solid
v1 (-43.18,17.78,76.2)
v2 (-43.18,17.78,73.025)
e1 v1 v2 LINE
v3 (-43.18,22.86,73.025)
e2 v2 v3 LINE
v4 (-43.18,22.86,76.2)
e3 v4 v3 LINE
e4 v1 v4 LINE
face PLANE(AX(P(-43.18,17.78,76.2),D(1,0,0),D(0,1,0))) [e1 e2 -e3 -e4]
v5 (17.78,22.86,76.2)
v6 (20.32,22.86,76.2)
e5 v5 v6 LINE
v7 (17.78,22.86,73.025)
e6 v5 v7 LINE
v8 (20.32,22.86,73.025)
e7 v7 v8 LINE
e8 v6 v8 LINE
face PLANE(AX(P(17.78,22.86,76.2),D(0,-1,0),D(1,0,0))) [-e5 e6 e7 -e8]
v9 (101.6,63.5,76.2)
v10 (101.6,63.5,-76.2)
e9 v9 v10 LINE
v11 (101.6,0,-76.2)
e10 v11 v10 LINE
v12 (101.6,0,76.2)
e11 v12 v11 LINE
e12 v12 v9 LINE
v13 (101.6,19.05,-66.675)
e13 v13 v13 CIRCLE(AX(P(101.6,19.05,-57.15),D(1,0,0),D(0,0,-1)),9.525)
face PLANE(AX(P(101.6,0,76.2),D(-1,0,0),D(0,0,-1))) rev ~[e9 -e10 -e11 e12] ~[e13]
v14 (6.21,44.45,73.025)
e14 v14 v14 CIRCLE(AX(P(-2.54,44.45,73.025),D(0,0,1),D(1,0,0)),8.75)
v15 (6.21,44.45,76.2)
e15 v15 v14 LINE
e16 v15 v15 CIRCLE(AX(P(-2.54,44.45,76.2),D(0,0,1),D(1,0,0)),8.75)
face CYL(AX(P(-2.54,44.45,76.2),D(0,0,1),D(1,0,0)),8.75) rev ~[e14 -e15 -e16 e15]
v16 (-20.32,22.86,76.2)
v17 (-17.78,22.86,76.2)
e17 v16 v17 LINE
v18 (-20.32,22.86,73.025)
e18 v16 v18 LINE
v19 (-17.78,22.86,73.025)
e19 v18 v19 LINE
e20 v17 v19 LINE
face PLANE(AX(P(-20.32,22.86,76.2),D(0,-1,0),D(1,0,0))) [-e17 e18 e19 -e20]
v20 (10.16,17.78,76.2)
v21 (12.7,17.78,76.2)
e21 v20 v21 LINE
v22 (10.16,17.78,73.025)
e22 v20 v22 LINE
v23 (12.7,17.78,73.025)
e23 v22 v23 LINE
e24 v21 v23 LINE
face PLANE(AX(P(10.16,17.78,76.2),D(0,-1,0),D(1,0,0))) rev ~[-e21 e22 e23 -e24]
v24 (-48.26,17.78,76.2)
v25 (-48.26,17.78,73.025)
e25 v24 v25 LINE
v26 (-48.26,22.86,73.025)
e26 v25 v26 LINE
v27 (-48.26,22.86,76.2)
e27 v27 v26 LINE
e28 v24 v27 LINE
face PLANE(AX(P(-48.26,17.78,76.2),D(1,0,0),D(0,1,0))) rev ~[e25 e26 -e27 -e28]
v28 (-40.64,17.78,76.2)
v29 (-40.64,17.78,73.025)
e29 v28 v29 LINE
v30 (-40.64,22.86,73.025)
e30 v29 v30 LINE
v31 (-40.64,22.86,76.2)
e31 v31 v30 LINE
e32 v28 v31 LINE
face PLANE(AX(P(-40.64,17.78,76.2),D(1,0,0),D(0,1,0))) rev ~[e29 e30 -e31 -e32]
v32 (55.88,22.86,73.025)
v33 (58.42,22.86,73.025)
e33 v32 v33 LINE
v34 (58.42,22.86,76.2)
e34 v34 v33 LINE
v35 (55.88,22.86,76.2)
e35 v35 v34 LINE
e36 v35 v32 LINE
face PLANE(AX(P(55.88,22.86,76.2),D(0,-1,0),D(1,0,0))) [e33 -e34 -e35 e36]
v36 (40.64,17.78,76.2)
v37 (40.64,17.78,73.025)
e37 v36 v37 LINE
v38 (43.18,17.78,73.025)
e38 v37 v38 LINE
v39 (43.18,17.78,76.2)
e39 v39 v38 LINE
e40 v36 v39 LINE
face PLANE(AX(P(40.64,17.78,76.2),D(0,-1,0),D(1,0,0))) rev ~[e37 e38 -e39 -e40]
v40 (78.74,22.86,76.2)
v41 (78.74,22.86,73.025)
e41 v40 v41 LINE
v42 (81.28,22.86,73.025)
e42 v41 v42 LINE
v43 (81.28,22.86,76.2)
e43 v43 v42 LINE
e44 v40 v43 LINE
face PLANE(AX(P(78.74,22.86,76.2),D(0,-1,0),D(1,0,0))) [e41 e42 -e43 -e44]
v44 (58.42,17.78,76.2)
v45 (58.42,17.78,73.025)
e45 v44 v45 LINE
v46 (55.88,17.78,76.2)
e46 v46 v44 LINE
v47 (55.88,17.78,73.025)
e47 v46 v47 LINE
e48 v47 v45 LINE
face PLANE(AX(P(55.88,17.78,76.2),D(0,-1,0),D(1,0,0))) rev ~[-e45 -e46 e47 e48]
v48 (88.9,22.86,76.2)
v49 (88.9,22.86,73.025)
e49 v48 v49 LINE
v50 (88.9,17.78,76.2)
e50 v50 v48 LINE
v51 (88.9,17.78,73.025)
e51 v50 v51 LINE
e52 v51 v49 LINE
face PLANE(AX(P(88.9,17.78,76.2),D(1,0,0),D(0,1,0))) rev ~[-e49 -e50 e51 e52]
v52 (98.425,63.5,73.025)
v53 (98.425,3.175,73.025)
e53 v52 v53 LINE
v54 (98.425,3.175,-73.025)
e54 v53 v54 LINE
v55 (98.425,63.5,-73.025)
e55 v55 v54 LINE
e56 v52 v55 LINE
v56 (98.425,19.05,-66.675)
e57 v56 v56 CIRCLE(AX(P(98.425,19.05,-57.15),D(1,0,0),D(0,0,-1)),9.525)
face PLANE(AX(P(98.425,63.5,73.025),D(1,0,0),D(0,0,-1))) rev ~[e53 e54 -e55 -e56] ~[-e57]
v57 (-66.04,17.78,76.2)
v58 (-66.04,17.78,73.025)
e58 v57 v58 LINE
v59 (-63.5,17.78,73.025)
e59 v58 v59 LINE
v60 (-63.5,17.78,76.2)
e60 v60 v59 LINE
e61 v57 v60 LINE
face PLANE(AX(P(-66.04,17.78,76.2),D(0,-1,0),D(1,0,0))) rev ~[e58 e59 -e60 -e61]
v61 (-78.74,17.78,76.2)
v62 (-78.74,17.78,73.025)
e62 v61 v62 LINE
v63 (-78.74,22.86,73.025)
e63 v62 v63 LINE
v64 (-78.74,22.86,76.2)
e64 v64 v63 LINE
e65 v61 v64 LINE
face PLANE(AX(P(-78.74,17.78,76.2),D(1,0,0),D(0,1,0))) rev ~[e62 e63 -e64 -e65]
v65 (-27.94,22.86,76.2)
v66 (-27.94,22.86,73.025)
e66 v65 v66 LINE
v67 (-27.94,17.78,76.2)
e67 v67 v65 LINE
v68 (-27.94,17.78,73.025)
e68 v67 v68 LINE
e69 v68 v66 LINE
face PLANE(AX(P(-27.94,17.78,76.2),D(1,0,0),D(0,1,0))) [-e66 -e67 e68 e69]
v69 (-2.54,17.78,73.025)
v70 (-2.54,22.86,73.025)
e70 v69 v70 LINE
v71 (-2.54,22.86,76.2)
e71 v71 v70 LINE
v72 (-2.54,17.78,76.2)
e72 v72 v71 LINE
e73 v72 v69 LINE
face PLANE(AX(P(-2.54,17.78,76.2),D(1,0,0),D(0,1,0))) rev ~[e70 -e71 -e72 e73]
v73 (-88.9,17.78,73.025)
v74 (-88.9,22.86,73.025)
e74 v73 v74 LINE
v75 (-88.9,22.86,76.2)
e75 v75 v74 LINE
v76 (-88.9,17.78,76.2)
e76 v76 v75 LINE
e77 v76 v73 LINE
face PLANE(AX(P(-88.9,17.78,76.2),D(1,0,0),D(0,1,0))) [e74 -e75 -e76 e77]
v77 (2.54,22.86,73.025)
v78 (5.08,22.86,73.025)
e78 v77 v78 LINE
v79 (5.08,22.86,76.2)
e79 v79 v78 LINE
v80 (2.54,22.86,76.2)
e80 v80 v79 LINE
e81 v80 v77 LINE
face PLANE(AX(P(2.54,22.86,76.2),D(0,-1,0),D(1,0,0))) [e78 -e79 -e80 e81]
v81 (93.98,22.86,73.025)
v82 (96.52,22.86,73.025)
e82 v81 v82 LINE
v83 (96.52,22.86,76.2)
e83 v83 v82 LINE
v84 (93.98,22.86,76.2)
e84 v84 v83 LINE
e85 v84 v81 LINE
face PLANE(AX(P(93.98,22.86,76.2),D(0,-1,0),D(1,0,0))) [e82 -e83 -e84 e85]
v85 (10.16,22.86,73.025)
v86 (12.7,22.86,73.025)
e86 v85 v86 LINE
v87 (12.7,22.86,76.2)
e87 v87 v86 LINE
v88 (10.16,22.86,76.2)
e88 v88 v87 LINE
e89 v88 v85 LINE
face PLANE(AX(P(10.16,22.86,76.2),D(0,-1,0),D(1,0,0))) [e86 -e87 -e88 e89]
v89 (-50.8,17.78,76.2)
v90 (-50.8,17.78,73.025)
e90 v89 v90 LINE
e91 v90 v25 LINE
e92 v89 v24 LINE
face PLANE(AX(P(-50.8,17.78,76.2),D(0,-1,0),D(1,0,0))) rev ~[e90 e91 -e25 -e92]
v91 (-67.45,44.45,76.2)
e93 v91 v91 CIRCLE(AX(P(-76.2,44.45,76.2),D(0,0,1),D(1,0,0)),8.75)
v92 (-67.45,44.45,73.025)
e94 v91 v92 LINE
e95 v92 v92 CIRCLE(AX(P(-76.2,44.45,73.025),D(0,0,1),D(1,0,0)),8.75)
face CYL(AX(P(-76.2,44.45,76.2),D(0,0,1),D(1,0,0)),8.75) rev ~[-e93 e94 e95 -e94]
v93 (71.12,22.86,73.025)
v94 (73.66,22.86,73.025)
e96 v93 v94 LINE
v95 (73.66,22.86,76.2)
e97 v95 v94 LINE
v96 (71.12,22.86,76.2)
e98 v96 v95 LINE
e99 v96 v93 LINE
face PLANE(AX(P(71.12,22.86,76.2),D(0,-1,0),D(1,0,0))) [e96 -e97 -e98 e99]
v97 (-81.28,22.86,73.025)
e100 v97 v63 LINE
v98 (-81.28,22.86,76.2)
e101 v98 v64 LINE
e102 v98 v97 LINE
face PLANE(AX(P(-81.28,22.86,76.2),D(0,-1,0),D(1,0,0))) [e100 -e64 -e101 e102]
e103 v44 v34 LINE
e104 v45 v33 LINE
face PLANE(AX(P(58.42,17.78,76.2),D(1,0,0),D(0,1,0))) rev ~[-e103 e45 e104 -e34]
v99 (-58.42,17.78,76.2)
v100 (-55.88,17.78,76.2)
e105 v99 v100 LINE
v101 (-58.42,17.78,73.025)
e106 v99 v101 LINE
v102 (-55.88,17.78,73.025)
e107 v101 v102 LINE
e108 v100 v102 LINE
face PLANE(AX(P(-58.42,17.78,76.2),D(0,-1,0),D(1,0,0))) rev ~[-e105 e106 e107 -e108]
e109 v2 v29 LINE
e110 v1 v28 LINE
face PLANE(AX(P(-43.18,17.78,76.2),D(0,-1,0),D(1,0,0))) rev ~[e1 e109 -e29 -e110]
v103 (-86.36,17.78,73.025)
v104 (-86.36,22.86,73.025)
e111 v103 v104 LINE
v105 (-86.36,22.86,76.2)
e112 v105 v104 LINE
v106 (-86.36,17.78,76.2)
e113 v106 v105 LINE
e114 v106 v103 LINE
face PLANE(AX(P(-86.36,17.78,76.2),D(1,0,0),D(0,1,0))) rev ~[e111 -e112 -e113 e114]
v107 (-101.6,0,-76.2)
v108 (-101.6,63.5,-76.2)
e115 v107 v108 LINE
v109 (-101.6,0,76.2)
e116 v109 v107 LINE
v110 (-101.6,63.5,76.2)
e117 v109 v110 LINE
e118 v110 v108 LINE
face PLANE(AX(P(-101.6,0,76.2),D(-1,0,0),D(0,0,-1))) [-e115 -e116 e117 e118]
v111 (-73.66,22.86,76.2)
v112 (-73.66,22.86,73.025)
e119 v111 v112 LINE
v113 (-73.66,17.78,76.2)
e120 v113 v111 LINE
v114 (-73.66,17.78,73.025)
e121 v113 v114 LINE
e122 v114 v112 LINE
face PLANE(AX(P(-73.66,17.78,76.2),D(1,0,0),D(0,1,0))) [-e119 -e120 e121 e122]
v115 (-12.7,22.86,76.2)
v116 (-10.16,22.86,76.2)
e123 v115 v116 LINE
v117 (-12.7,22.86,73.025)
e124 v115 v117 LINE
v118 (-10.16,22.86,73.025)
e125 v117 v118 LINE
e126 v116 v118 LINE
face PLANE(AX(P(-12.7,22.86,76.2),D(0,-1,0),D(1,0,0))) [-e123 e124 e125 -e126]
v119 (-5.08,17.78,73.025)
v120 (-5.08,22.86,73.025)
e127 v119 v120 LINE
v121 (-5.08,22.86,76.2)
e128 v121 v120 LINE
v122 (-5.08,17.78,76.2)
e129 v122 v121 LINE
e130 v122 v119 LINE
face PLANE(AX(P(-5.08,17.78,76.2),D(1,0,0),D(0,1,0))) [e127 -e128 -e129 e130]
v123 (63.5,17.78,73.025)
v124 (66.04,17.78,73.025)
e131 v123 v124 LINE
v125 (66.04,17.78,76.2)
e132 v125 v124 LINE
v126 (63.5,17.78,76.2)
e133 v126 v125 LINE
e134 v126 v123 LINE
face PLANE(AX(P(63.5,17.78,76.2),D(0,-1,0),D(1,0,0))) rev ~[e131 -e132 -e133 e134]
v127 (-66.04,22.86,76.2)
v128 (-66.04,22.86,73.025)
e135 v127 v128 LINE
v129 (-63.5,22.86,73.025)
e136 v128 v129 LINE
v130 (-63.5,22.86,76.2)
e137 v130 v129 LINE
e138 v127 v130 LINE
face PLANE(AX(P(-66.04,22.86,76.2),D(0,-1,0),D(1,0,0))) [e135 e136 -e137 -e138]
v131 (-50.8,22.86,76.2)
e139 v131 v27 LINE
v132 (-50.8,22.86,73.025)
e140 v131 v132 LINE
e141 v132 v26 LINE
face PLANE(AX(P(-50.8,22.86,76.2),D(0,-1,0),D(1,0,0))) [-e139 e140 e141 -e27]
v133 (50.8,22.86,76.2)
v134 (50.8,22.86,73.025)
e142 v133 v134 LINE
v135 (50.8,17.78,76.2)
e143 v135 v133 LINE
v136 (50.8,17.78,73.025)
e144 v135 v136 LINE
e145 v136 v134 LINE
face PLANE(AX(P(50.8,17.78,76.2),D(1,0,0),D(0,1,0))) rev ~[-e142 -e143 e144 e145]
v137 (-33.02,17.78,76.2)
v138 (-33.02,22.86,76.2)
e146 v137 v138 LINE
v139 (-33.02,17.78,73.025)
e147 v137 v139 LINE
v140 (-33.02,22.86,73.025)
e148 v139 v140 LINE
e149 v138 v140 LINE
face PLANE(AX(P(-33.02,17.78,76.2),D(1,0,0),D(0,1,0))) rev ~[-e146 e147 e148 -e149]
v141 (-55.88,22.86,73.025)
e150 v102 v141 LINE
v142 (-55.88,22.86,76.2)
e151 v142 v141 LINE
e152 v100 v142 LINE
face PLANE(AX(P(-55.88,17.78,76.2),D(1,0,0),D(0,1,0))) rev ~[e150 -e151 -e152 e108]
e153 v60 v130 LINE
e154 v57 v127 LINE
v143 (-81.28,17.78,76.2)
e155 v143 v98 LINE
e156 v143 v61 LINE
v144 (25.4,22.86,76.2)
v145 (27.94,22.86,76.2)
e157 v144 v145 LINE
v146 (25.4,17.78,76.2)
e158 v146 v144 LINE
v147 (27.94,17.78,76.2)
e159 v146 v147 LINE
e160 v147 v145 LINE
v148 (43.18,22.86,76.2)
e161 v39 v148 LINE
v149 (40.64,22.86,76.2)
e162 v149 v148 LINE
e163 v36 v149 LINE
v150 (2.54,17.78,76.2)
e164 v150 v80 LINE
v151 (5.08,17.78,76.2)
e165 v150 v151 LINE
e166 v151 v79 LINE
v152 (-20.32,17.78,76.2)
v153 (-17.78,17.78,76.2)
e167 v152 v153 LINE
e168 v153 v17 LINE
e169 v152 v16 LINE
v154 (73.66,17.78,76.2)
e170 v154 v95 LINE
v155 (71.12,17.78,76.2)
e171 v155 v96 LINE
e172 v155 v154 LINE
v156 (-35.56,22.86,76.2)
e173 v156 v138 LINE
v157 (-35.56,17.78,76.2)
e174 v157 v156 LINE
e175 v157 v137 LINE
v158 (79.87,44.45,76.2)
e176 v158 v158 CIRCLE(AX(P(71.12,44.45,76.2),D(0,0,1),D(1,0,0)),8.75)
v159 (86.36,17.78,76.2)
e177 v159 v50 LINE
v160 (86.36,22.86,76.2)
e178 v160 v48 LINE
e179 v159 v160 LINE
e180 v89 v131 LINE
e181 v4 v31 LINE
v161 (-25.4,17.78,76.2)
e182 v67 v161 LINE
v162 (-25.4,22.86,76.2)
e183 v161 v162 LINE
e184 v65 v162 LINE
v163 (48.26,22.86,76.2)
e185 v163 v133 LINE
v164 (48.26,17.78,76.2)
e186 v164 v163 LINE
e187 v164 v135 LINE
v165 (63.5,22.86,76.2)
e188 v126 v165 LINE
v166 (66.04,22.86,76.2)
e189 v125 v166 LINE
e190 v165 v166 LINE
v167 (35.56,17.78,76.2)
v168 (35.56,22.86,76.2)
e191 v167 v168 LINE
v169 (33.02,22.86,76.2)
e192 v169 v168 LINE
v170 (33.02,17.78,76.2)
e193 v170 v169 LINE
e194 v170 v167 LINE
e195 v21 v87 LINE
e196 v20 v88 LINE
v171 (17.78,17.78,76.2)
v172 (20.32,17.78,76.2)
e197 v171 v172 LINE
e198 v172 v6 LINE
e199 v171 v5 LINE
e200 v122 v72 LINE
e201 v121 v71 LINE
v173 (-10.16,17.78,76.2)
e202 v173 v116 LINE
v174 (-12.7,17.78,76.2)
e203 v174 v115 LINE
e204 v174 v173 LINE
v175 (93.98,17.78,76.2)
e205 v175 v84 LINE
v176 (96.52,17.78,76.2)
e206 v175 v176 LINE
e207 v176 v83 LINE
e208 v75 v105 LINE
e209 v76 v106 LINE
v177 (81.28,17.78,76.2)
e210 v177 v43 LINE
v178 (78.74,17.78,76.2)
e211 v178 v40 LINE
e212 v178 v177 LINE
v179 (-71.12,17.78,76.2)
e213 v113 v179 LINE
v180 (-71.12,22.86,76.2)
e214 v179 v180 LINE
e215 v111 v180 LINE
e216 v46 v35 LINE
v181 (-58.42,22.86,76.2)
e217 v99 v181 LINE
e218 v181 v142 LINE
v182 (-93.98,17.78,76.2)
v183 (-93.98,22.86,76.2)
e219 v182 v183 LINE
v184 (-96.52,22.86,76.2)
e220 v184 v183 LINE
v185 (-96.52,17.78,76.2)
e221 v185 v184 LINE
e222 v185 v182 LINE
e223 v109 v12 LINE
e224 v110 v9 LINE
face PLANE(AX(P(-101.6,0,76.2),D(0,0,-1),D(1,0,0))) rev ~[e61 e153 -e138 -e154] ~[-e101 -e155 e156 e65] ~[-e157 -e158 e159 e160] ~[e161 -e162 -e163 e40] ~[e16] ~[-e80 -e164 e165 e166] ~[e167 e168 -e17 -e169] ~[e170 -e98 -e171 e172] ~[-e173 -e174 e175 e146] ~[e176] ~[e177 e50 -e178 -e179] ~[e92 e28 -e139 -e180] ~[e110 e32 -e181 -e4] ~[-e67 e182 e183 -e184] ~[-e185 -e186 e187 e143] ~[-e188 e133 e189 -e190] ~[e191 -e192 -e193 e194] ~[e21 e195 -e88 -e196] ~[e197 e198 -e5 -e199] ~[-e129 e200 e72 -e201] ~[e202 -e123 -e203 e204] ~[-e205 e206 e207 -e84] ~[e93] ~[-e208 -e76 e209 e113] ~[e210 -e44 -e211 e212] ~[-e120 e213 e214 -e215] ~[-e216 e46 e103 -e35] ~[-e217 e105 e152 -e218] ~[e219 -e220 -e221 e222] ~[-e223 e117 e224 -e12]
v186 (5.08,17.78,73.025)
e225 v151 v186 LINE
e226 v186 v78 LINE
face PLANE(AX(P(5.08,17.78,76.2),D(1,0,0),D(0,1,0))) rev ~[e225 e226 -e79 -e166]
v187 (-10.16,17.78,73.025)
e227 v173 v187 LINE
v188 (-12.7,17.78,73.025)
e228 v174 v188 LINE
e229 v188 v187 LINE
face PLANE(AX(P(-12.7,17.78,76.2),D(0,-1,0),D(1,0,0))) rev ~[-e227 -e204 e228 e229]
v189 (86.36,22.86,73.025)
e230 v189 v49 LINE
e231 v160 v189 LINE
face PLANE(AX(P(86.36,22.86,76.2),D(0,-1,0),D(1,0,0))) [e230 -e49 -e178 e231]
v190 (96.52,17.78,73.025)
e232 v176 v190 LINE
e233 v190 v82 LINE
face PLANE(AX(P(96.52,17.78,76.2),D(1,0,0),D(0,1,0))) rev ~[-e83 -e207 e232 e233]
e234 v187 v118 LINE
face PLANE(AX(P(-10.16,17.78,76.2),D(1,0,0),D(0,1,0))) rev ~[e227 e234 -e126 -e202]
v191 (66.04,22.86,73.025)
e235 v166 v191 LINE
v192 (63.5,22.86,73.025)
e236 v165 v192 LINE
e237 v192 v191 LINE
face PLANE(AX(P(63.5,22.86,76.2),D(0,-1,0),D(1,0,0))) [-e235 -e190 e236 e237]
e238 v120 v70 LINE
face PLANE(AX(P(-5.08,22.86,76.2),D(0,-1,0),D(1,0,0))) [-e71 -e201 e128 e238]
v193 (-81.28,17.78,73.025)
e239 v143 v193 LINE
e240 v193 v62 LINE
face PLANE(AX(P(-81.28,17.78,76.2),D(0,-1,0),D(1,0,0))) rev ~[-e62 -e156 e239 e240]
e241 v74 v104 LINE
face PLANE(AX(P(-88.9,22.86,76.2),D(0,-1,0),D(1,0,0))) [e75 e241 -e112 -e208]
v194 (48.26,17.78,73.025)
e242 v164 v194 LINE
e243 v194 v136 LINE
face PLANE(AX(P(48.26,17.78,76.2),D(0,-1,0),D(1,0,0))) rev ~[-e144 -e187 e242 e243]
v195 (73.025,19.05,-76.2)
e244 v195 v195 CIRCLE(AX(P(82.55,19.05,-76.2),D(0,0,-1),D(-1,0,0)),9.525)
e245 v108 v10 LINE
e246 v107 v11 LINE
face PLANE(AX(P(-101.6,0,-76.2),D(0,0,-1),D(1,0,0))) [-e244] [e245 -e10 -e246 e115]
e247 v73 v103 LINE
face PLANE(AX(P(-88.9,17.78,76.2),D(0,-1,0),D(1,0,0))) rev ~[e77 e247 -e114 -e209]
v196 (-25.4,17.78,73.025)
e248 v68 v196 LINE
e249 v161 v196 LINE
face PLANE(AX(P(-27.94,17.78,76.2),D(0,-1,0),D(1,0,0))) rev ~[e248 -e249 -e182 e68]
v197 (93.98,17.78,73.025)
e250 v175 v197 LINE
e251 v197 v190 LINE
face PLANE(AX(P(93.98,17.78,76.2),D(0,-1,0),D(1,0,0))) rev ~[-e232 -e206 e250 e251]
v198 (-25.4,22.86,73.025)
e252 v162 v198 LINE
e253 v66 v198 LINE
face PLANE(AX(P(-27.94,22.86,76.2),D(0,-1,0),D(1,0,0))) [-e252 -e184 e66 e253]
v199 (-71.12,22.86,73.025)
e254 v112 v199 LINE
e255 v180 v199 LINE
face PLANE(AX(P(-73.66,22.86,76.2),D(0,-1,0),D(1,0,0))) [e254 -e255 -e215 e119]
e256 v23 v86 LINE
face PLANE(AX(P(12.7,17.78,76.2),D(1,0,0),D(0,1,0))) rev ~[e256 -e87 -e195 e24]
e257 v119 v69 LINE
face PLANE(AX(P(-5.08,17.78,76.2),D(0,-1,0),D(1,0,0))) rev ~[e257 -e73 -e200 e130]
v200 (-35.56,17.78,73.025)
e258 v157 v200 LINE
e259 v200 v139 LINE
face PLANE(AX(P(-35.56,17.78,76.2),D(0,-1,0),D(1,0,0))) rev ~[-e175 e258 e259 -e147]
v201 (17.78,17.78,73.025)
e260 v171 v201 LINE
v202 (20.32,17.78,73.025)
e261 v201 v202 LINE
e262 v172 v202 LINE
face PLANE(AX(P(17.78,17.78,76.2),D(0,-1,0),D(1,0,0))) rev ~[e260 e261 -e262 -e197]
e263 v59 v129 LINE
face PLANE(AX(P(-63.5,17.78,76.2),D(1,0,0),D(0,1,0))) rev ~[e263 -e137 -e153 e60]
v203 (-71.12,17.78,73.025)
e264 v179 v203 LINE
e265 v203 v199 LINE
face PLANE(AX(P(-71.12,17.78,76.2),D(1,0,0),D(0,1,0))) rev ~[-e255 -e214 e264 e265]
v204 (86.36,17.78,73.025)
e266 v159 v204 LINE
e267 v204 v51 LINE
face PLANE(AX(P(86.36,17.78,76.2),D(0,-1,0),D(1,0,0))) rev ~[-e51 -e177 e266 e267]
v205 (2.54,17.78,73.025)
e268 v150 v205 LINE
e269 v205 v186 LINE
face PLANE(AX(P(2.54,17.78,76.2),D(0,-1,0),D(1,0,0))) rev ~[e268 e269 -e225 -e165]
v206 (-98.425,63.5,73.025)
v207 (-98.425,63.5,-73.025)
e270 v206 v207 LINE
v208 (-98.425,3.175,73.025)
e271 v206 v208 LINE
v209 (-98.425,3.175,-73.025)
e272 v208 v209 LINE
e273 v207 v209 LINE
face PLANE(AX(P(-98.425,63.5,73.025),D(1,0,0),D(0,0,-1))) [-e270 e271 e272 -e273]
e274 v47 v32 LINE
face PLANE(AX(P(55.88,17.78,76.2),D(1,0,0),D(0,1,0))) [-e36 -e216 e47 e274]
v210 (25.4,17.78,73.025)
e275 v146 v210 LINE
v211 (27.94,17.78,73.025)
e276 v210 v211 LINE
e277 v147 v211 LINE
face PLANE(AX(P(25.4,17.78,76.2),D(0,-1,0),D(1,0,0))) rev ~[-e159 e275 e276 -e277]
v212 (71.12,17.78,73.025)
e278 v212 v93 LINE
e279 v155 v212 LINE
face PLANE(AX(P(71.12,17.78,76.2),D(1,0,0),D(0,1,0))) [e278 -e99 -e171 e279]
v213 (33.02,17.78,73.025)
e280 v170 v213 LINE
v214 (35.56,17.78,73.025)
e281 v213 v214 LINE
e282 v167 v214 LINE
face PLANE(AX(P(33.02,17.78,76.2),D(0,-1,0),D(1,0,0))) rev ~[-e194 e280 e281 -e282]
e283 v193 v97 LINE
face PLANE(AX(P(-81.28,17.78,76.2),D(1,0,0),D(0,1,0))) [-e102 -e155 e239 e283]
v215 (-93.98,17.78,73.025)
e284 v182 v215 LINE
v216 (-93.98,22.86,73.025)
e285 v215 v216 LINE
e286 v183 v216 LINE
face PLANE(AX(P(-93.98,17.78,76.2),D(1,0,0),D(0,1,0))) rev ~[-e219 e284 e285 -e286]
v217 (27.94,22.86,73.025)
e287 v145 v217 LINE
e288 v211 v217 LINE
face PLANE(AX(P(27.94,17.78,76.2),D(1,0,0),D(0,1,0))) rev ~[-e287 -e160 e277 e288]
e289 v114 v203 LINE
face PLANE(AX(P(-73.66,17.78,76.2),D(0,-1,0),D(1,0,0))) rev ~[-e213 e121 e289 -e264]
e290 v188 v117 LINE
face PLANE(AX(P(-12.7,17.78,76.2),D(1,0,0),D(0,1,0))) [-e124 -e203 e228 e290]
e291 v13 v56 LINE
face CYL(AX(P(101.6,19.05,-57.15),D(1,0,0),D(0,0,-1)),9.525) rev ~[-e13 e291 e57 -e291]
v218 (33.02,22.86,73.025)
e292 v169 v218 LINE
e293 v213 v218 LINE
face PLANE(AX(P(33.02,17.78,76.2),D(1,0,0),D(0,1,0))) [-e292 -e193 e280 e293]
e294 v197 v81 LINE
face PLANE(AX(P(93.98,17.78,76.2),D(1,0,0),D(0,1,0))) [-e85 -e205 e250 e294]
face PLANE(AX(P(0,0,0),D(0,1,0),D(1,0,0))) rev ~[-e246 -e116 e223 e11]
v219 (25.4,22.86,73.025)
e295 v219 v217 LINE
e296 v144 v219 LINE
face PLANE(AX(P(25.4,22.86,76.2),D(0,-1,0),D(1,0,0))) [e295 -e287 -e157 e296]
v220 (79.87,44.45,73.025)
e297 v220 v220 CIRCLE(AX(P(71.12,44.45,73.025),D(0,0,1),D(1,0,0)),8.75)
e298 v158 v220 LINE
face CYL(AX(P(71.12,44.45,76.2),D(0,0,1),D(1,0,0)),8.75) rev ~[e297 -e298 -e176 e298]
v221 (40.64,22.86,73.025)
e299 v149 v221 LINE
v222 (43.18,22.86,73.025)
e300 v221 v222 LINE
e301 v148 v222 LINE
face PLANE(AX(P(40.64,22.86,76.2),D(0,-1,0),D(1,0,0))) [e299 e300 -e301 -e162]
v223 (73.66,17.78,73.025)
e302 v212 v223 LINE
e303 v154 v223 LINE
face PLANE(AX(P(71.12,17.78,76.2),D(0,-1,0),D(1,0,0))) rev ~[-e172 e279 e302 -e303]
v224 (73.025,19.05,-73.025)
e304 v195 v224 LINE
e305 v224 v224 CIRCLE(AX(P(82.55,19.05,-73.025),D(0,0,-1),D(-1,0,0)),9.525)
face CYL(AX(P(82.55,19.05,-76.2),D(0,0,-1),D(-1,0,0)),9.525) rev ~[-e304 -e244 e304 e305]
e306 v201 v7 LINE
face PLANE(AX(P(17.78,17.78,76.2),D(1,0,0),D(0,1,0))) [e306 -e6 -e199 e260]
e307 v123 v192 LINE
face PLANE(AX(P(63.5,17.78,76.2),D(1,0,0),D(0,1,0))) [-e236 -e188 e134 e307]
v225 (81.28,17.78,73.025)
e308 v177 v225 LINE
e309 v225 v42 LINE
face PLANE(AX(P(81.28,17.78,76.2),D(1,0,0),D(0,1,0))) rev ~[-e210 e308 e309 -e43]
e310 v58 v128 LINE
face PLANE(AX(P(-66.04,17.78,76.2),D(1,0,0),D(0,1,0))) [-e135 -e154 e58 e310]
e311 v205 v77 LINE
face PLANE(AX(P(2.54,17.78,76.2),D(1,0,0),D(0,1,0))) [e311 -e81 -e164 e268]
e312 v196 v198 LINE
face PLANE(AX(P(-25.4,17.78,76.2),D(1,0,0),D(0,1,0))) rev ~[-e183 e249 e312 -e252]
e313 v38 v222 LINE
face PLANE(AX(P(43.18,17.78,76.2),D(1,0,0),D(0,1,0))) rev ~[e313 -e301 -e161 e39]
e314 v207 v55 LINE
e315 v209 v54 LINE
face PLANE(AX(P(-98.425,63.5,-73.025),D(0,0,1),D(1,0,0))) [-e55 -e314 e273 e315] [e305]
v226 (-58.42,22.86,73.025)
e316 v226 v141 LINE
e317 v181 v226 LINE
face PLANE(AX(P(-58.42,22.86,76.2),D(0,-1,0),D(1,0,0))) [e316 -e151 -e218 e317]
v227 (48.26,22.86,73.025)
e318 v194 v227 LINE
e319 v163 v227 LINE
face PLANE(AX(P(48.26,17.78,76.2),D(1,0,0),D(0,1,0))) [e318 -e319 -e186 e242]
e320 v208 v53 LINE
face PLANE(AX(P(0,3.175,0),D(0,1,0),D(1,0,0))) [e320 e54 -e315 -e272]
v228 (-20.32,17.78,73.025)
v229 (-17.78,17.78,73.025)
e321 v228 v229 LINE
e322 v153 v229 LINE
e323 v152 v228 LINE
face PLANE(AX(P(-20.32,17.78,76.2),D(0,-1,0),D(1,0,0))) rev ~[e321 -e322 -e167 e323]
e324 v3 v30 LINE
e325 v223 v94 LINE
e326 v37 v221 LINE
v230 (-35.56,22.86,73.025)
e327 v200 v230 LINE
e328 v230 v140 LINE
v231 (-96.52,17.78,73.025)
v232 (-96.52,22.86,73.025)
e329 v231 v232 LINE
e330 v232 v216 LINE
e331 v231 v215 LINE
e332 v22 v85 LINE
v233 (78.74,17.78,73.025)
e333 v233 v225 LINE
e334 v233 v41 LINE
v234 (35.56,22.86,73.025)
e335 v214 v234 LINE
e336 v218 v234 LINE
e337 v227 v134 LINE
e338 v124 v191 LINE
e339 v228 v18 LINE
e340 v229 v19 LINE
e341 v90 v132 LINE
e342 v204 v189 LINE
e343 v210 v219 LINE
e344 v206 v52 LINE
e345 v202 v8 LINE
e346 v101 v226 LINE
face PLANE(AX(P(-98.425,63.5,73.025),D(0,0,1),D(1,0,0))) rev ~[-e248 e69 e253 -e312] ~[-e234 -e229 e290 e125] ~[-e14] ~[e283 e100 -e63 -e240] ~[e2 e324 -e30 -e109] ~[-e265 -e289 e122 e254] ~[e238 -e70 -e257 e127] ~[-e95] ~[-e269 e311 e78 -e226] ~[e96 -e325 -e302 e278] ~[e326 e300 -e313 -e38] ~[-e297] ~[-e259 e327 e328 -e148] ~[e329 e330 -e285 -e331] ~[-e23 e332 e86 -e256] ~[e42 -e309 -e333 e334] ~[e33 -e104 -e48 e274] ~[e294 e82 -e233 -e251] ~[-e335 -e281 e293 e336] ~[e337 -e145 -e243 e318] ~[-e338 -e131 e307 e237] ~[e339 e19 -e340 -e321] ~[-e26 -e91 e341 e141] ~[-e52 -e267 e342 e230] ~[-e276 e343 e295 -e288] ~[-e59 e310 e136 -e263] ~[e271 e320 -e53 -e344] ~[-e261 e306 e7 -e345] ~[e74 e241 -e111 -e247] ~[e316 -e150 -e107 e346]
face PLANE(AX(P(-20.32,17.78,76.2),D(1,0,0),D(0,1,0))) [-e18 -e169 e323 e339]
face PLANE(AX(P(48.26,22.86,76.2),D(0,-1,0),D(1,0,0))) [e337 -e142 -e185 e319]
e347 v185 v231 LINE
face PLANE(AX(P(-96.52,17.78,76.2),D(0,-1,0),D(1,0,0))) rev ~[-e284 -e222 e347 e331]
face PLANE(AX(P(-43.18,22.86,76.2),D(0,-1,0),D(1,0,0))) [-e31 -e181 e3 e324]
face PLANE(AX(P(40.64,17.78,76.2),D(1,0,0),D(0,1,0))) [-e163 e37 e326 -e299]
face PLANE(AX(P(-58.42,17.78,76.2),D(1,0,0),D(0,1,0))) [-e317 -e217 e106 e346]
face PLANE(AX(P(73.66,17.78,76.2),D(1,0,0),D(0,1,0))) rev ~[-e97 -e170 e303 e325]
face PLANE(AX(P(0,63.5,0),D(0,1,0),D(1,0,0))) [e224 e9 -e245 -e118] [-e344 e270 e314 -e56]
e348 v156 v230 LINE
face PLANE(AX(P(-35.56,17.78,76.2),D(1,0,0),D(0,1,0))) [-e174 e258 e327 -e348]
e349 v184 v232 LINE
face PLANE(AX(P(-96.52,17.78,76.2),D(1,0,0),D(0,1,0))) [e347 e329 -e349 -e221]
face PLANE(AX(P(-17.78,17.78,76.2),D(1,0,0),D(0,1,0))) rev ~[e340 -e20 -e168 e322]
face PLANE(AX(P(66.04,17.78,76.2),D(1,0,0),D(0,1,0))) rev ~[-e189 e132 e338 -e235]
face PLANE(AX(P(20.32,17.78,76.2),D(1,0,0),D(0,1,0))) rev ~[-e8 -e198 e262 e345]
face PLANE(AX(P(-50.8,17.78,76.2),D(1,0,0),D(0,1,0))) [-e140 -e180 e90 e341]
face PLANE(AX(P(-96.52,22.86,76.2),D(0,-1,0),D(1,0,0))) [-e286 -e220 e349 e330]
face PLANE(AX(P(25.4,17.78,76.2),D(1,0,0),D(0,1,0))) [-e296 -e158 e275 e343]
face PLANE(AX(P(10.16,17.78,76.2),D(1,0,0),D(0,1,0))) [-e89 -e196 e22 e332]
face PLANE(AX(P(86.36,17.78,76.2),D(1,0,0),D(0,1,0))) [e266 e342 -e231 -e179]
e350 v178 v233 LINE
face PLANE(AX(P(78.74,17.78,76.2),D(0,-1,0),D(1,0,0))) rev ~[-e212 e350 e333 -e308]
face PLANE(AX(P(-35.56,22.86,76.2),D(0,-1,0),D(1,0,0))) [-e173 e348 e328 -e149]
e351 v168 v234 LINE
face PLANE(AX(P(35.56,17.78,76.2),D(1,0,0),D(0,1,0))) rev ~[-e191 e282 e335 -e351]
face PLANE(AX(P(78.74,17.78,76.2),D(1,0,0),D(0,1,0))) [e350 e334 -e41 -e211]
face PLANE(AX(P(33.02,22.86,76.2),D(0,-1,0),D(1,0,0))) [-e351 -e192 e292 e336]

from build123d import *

# Parameters (mm, degrees)
SKETCH1_W           = 203.2
SKETCH1_H           = 152.4
BOSS_EXTRUDE1_DEPTH = 63.5
SKETCH2_W           = 196.85
SKETCH2_H           = 146.05
CUT_EXTRUDE1_DEPTH  = 60.325
SKETCH5_W           = 2.54
SKETCH5_H           = 5.08
CUT_EXTRUDE3_DEPTH  = 47.625
LPATTERN1_COUNT     = 26
LPATTERN1_PITCH     = 7.62
SKETCH6_R           = 8.75
CUT_EXTRUDE4_DEPTH  = 47.625
LPATTERN2_COUNT     = 3
LPATTERN2_PITCH     = 73.66
SKETCH7_R           = 9.525
CUT_EXTRUDE6_DEPTH  = 47.625
SKETCH8_R           = 9.525
CUT_EXTRUDE7_DEPTH  = 47.625


with BuildPart() as part:
    # Sketch1 → Boss-Extrude1 (new body)
    with BuildSketch(Plane(origin=(0, 0, 0), x_dir=(1, 0, 0), z_dir=(0, 1, 0))):
        Rectangle(SKETCH1_W, SKETCH1_H)
    extrude(amount=BOSS_EXTRUDE1_DEPTH)

    # Sketch2 → Cut-Extrude1 (cut)
    with BuildSketch(Plane(origin=(0, 63.5, 0), x_dir=(1, 0, 0), z_dir=(0, 1, 0))):
        Rectangle(SKETCH2_W, SKETCH2_H)
    extrude(amount=-CUT_EXTRUDE1_DEPTH, mode=Mode.SUBTRACT)

    # Sketch5 → Cut-Extrude3 (cut)
    with BuildSketch(Plane.XY.offset(76.2)):
        with Locations((-95.25, 20.32)):
            Rectangle(SKETCH5_W, SKETCH5_H)
    cut_extrude3 = extrude(amount=-CUT_EXTRUDE3_DEPTH, mode=Mode.SUBTRACT)

    # LPattern1: Cut-Extrude3 ×26
    with Locations(*[(i * LPATTERN1_PITCH, 0, 0) for i in range(1, LPATTERN1_COUNT)]):
        add(cut_extrude3, mode=Mode.SUBTRACT)

    # Sketch6 → Cut-Extrude4 (cut)
    with BuildSketch(Plane.XY.offset(76.2)):
        with Locations((-76.2, 44.45)):
            Circle(SKETCH6_R)
    cut_extrude4 = extrude(amount=-CUT_EXTRUDE4_DEPTH, mode=Mode.SUBTRACT)

    # LPattern2: Cut-Extrude4 ×3
    with Locations(*[(i * LPATTERN2_PITCH, 0, 0) for i in range(1, LPATTERN2_COUNT)]):
        add(cut_extrude4, mode=Mode.SUBTRACT)

    # Sketch7 → Cut-Extrude6 (cut)
    with BuildSketch(Plane(origin=(101.6, 0, 0), x_dir=(0, 0, -1), z_dir=(1, 0, 0))):
        with Locations((57.15, 19.05)):
            Circle(SKETCH7_R)
    extrude(amount=-CUT_EXTRUDE6_DEPTH, mode=Mode.SUBTRACT)

    # Sketch8 → Cut-Extrude7 (cut)
    with BuildSketch(Plane(origin=(0, 0, -76.2), x_dir=(-1, 0, 0), z_dir=(0, 0, -1))):
        with Locations((-82.55, 19.05)):
            Circle(SKETCH8_R)
    extrude(amount=-CUT_EXTRUDE7_DEPTH, mode=Mode.SUBTRACT)


solid = part.part
